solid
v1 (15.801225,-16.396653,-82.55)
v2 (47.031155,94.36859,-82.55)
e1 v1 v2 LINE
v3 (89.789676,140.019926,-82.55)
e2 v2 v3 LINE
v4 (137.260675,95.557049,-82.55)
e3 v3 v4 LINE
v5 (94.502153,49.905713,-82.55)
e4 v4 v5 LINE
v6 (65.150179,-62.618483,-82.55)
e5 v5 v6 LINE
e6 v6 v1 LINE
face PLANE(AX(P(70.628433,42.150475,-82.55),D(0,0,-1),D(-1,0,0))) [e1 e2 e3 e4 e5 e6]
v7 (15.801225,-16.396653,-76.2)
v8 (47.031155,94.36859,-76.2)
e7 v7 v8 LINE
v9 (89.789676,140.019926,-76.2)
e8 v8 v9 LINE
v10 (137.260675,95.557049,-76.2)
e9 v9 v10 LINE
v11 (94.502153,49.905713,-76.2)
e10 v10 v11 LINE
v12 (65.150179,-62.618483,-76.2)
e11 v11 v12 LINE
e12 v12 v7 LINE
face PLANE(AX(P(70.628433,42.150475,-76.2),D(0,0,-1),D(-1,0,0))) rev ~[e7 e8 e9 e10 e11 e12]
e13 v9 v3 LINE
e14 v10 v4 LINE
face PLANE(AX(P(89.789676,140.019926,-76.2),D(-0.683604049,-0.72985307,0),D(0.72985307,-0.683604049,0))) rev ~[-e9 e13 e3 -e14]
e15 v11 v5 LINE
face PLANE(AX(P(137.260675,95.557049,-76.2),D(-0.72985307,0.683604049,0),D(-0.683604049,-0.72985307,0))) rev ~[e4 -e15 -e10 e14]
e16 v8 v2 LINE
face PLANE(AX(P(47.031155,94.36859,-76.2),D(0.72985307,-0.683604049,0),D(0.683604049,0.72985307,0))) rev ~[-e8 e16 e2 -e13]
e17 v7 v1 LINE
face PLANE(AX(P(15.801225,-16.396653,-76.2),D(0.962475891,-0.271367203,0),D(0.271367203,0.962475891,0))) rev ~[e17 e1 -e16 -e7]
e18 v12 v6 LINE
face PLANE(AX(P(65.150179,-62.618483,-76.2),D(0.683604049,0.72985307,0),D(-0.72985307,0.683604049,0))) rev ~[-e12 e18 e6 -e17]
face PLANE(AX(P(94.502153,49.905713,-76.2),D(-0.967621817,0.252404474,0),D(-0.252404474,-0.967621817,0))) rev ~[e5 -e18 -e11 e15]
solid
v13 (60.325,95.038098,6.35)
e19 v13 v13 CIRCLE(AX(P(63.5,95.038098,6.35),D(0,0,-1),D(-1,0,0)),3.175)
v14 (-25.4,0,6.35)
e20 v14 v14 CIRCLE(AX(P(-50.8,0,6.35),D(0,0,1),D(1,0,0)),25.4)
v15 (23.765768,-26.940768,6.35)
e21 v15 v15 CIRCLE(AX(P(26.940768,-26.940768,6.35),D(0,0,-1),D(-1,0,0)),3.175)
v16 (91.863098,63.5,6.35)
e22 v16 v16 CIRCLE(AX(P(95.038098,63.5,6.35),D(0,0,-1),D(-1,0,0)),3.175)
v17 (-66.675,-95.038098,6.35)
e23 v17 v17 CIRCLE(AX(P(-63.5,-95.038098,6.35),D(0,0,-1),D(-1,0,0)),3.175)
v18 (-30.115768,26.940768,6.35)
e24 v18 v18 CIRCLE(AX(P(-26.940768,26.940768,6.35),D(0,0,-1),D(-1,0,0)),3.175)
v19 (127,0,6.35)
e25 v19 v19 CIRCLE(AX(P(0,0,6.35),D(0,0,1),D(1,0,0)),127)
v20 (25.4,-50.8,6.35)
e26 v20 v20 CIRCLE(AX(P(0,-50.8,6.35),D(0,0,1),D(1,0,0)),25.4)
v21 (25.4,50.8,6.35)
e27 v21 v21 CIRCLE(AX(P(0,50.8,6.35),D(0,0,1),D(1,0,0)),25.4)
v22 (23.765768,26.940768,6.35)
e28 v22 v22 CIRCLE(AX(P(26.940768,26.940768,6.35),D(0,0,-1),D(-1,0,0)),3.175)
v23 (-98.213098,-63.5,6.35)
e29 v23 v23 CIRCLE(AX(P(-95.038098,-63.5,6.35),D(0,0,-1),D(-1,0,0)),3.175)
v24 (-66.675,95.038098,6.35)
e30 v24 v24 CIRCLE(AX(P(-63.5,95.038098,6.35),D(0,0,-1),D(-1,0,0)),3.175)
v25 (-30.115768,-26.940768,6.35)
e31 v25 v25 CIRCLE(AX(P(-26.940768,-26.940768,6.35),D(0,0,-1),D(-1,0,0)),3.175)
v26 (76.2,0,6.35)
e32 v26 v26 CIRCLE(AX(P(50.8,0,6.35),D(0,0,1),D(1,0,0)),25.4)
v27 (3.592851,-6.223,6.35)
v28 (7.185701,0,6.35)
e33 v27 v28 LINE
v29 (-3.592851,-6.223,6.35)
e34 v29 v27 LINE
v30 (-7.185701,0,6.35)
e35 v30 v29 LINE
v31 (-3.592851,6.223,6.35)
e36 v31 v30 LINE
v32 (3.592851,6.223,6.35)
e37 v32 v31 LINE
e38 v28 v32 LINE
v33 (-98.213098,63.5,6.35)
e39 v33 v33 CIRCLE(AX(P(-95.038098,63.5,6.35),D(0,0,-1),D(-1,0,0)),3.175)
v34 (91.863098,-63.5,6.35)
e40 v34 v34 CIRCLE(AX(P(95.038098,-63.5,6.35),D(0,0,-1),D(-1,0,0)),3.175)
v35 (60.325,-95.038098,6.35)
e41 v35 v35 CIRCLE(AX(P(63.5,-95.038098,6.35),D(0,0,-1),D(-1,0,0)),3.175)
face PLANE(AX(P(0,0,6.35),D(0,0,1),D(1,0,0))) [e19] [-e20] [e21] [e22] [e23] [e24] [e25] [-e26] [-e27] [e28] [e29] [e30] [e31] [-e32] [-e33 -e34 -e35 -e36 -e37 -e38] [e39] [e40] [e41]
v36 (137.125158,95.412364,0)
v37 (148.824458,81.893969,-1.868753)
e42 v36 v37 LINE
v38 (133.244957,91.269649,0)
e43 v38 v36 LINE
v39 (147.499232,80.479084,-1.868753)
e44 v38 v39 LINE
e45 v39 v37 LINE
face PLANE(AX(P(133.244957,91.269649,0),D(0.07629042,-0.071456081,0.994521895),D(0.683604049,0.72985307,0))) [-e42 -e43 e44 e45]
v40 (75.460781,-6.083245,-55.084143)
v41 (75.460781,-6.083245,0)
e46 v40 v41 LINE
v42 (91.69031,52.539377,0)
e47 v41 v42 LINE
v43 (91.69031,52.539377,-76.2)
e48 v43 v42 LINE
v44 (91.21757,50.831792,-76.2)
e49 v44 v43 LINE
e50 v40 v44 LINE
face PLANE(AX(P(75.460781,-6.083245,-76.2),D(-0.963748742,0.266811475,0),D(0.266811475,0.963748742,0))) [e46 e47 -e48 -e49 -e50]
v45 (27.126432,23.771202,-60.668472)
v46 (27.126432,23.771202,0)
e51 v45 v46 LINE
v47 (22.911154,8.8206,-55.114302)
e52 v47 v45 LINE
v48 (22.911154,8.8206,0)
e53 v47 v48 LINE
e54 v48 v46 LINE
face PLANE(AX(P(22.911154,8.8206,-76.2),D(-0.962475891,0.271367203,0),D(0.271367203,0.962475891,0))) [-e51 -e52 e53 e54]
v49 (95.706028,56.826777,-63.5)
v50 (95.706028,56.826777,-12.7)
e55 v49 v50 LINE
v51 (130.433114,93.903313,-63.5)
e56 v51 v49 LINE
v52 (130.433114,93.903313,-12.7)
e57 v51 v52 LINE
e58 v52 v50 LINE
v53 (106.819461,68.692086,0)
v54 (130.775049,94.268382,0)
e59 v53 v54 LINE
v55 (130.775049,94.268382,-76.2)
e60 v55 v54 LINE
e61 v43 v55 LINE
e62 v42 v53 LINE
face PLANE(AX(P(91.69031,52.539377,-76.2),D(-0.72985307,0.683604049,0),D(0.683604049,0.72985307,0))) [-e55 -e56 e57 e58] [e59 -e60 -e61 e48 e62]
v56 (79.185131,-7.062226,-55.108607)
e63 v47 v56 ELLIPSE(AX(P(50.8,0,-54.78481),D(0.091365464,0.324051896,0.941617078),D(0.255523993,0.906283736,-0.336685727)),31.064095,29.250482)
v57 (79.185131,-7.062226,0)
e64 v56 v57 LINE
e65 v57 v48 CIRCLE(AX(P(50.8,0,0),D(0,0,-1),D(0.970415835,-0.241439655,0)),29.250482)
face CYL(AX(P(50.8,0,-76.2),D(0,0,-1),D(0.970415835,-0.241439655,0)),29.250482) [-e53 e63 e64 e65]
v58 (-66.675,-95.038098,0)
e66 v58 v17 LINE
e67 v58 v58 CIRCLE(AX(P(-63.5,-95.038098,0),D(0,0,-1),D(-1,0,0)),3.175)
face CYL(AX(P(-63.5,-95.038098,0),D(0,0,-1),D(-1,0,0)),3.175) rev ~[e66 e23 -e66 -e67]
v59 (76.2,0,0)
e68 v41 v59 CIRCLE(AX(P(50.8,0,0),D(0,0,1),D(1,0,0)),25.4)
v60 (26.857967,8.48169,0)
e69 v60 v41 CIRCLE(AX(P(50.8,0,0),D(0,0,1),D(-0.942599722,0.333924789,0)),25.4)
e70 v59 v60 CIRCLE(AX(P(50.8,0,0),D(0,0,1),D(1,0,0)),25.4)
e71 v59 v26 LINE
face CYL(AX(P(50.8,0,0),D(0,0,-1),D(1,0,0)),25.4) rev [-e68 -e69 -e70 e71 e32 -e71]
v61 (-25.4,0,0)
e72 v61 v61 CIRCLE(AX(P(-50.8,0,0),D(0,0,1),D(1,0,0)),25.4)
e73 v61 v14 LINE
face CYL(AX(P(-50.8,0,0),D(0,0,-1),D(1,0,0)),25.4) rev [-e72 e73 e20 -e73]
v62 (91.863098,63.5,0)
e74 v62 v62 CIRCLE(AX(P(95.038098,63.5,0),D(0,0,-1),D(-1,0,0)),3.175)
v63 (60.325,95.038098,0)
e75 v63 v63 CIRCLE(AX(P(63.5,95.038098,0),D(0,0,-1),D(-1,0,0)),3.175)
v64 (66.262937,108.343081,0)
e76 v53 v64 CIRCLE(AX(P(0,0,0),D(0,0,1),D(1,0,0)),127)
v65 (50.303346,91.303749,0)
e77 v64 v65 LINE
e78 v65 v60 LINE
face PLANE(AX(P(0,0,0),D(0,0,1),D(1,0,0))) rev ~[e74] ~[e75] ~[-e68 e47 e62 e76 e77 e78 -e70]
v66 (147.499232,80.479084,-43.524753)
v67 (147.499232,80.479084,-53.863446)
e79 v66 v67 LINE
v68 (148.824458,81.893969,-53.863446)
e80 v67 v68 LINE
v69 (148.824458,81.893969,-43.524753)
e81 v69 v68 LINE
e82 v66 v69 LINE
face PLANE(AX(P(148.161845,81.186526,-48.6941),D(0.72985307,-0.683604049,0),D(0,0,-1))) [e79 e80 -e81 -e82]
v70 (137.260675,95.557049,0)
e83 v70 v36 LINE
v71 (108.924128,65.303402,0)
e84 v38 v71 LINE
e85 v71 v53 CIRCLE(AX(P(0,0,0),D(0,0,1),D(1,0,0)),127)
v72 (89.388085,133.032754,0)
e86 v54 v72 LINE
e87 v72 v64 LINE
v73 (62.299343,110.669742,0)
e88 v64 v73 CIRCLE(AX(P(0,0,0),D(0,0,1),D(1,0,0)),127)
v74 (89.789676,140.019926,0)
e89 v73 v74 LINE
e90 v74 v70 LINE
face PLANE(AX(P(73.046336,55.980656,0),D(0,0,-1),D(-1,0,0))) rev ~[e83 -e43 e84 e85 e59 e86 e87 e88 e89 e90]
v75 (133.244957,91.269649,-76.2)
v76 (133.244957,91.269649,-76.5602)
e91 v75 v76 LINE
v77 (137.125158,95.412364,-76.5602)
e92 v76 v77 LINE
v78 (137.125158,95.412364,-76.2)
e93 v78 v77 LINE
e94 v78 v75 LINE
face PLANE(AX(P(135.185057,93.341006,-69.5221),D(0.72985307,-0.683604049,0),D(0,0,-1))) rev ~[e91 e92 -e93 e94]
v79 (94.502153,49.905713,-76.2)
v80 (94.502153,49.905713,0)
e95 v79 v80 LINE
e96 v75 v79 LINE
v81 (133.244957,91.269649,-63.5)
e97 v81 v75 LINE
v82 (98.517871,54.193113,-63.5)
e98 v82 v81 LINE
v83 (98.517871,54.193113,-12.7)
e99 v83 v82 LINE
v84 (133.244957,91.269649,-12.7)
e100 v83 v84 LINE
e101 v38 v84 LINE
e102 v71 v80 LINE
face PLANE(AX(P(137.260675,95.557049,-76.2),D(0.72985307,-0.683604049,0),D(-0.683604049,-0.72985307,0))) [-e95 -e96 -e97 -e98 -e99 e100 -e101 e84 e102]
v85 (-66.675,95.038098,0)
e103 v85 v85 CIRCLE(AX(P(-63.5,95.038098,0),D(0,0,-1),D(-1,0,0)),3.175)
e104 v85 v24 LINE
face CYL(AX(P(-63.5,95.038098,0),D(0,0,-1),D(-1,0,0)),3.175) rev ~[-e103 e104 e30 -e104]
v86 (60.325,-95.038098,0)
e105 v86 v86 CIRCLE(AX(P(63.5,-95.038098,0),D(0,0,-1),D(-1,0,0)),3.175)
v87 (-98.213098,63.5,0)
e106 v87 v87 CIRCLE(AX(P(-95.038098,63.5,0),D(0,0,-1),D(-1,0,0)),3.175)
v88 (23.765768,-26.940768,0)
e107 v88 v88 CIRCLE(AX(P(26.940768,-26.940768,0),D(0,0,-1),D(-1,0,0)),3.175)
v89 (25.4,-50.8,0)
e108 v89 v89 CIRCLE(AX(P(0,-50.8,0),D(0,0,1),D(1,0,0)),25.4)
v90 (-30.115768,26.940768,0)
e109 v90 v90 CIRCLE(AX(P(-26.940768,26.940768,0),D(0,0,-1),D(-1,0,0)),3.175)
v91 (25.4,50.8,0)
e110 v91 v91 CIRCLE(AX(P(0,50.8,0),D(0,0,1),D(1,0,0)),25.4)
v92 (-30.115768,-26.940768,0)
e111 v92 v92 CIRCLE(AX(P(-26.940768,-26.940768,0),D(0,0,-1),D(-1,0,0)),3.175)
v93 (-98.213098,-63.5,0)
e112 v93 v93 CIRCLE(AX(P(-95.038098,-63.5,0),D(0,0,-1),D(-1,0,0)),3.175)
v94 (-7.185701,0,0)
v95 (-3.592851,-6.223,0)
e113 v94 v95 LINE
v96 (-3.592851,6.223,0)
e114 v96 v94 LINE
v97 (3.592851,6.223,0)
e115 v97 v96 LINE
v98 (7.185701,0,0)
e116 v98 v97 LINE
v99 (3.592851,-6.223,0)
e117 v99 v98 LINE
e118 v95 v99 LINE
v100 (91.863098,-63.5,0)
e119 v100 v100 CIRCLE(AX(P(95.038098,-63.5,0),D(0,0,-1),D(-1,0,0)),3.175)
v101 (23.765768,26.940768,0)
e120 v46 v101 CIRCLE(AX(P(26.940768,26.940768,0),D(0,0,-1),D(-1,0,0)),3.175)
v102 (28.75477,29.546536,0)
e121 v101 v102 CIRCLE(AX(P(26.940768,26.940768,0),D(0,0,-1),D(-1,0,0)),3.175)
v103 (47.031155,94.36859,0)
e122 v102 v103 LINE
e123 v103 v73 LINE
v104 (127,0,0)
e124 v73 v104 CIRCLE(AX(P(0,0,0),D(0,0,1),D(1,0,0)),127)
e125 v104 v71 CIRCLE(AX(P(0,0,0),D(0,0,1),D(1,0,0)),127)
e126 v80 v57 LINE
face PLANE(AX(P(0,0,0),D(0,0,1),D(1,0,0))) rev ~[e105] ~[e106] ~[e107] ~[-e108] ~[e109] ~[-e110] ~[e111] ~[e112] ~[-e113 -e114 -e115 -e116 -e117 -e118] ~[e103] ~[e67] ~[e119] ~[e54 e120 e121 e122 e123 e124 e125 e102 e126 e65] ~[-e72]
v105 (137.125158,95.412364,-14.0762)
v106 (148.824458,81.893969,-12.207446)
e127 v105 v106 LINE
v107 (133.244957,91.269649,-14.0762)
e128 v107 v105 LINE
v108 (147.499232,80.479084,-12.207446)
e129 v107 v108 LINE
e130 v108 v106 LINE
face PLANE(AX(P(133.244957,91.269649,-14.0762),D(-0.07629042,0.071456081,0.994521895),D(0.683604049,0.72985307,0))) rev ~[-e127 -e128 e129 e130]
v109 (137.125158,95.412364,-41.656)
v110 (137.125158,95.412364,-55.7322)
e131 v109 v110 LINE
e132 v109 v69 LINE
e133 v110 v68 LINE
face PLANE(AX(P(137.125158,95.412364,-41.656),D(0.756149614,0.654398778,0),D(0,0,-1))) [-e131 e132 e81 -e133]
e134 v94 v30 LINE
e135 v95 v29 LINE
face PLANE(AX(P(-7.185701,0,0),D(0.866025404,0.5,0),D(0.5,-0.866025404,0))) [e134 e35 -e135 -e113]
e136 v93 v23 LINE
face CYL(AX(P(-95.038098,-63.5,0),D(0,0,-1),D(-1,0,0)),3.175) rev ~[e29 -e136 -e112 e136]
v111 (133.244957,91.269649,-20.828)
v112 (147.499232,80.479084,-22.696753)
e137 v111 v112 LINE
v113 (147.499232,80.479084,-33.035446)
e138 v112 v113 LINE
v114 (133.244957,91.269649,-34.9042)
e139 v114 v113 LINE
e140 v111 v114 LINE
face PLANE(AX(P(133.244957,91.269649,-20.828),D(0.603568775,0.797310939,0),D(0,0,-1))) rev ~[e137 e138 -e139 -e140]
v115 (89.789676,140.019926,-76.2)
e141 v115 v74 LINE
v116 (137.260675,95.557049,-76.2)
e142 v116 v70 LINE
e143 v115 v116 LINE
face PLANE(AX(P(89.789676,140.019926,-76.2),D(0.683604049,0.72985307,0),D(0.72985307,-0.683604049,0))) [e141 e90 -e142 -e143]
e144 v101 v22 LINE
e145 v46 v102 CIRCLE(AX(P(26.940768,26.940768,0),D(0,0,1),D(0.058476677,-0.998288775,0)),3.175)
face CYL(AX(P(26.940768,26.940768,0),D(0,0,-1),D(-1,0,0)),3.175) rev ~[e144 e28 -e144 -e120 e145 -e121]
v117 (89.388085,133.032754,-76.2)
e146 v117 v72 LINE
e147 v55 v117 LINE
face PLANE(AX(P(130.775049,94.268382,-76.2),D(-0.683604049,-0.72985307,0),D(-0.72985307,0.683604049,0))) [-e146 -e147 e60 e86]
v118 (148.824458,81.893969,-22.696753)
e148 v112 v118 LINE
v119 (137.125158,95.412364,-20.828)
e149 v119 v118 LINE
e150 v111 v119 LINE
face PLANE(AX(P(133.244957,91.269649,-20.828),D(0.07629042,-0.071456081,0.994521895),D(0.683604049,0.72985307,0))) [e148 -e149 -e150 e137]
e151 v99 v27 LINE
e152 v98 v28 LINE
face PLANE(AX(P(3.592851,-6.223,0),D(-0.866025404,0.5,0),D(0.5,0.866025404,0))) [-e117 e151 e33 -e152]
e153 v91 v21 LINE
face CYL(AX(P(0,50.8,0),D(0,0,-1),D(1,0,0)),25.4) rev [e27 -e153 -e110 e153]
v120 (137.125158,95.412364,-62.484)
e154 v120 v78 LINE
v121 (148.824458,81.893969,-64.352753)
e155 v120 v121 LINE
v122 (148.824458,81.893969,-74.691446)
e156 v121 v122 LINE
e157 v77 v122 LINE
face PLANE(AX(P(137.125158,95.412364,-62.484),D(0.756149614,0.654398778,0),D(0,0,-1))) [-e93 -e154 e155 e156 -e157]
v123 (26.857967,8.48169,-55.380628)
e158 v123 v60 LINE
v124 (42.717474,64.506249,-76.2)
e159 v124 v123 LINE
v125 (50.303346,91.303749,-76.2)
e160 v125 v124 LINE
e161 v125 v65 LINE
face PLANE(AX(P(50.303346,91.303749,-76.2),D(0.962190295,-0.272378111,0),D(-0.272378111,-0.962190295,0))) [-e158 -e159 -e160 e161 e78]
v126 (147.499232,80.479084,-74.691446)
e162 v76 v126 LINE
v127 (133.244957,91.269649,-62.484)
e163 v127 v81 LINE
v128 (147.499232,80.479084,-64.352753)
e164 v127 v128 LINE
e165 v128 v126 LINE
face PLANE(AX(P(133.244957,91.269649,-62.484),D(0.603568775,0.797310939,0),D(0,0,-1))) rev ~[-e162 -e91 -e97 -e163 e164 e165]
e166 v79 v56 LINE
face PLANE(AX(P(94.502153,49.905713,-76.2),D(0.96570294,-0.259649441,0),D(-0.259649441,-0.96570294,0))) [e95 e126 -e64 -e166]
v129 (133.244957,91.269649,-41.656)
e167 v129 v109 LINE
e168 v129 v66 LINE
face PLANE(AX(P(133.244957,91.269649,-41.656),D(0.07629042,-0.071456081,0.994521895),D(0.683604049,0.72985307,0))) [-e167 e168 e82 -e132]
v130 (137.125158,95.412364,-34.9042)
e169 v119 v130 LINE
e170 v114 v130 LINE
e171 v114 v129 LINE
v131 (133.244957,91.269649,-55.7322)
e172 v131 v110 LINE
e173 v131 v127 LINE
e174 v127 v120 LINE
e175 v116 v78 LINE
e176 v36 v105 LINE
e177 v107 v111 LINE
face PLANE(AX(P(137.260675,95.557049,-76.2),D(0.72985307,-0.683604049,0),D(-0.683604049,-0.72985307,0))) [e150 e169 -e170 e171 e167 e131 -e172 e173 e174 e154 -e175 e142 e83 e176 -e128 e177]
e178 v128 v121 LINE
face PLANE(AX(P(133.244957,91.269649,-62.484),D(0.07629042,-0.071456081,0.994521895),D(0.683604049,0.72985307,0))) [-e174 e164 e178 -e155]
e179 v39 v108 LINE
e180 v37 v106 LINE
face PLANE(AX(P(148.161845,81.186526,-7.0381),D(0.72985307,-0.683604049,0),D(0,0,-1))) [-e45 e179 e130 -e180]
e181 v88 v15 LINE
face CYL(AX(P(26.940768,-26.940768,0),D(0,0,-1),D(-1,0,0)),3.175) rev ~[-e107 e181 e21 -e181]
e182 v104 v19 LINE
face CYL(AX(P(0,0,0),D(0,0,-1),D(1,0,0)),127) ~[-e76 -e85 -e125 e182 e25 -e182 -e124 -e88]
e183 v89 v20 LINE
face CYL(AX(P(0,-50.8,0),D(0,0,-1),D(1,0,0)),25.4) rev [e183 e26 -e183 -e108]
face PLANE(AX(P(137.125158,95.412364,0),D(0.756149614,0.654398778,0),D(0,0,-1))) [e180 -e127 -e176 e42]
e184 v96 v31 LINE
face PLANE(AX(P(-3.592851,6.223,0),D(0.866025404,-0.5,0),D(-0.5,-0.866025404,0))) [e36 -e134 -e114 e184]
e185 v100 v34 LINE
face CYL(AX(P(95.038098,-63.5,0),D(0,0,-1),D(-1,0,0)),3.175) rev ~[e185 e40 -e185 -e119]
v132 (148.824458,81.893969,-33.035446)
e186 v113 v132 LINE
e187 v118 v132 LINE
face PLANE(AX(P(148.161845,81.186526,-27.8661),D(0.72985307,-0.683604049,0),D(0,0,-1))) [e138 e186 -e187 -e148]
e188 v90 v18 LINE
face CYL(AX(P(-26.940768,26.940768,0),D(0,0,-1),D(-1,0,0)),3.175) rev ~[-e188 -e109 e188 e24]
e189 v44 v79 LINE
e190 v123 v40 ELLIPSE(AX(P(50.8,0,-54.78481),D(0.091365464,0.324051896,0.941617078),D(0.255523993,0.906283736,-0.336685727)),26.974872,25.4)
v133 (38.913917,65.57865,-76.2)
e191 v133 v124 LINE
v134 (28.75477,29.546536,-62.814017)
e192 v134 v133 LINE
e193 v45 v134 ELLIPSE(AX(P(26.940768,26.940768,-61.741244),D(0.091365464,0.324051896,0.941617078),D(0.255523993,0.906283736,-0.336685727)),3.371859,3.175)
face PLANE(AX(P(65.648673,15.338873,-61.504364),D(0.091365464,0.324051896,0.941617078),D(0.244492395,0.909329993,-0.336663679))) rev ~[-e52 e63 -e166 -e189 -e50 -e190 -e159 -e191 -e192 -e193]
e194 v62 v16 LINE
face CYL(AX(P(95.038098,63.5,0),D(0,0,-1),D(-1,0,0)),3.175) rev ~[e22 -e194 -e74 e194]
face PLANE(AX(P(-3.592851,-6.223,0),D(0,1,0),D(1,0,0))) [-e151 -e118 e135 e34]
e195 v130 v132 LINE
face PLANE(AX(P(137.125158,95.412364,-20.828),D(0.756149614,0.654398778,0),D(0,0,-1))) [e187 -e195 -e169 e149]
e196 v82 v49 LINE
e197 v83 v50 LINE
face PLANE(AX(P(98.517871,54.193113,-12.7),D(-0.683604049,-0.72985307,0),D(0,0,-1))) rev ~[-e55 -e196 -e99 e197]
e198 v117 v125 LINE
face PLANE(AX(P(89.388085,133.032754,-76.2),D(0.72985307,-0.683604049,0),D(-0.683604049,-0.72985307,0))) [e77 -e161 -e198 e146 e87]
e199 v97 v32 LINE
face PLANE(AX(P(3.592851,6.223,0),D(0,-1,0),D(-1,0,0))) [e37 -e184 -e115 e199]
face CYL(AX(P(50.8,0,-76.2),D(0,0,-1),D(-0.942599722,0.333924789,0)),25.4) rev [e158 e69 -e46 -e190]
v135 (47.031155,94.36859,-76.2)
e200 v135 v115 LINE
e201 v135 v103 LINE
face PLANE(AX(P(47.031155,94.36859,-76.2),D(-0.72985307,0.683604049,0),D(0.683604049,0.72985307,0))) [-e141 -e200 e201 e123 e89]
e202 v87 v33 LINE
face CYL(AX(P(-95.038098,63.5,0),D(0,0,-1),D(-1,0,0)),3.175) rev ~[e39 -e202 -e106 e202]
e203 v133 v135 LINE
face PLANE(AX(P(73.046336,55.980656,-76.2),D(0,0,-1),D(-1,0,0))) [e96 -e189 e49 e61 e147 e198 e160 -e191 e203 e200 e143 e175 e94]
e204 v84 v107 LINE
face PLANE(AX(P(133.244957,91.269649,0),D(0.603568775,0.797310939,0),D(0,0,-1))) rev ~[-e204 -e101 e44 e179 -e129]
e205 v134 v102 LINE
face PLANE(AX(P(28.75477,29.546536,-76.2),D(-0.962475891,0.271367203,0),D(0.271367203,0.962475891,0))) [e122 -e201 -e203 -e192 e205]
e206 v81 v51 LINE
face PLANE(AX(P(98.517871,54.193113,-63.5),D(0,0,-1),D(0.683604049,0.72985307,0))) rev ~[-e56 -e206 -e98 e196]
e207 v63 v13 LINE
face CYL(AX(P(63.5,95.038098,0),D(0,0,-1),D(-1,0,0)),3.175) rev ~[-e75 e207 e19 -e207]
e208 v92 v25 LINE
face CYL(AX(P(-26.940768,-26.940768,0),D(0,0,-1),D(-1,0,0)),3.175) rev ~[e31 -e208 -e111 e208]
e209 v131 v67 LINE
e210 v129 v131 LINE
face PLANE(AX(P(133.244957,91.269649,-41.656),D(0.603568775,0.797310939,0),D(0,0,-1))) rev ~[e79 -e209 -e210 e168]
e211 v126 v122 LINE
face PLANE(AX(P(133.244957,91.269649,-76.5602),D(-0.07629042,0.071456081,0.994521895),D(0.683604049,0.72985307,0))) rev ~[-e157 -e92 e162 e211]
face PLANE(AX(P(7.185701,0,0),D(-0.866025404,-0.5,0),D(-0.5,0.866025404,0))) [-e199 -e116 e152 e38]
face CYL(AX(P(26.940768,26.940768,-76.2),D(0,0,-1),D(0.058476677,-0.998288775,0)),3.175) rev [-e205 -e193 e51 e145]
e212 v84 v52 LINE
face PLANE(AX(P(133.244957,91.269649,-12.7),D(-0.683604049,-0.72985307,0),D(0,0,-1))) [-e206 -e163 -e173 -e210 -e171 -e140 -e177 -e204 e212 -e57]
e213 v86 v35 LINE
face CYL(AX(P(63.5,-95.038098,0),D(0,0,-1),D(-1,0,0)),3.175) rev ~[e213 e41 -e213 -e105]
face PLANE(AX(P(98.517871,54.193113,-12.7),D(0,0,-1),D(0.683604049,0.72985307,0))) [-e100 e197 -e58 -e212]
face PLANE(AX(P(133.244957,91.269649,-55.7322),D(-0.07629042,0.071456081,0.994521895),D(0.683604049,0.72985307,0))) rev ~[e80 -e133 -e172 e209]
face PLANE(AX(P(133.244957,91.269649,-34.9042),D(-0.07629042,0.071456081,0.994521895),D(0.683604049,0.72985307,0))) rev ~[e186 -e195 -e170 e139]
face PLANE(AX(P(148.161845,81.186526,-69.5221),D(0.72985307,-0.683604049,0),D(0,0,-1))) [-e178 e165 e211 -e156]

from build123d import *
from build123d.topology import SkipClean

# Parameters (mm, degrees)
SKETCH1_R                     = 127
SKETCH1_R_2                   = 25.4
BOSS_EXTRUDE1_DEPTH           = 6.35
SKETCH3_R                     = 3.175
CUT_EXTRUDE1_DEPTH            = 6.35
BOSS_EXTRUDE3_START           = 76.2
BOSS_EXTRUDE3_DEPTH           = 76.2
SKETCH8_W                     = 50.8
SKETCH8_H                     = 50.8
CUT_EXTRUDE2_DEPTH            = 6.35
BOSS_EXTRUDE4_DEPTH           = 6.35
SKETCH12_W                    = 14.076199653
SKETCH12_H                    = 5.676094201
BOSS_EXTRUDE5_DEPTH           = 17.78
BOSS_EXTRUDE5_DRAFT           = 6
BOSS_EXTRUDE5_PROFILE_2_DEPTH = 17.78
BOSS_EXTRUDE5_PROFILE_2_DRAFT = 6
BOSS_EXTRUDE5_PROFILE_3_DEPTH = 17.78
BOSS_EXTRUDE5_PROFILE_3_DRAFT = 6
BOSS_EXTRUDE5_PROFILE_4_DEPTH = 17.78
BOSS_EXTRUDE5_PROFILE_4_DRAFT = 6
SKETCH16_W                    = 137.632835606
SKETCH16_H                    = 86.689422116
CUT_EXTRUDE4_DEPTH            = 38.1


with BuildPart() as part:
    # Sketch1 → Boss-Extrude1 (new body)
    with BuildSketch(Plane.XY):
        Circle(SKETCH1_R)
        with Locations((0, 50.8)):
            Circle(SKETCH1_R_2, mode=Mode.SUBTRACT)
        with Locations((50.8, 0)):
            Circle(SKETCH1_R_2, mode=Mode.SUBTRACT)
        with Locations((0, -50.8)):
            Circle(SKETCH1_R_2, mode=Mode.SUBTRACT)
        with Locations((-50.8, 0)):
            Circle(SKETCH1_R_2, mode=Mode.SUBTRACT)
        Polygon((7.18570145, 0), (3.592850725, 6.223), (-3.592850725, 6.223), (-7.18570145, 0), (-3.592850725, -6.223), (3.592850725, -6.223), align=None, mode=Mode.SUBTRACT)
    extrude(amount=BOSS_EXTRUDE1_DEPTH)

    # Sketch3 → Cut-Extrude1 (cut)
    with BuildSketch(Plane(origin=(0, 0, 0), x_dir=(-1, 0, 0), z_dir=(0, 0, -1))):
        with Locations((-26.940768363, 26.940768363)):
            Circle(SKETCH3_R)
        with Locations((26.940768363, 26.940768363)):
            Circle(SKETCH3_R)
        with Locations((26.940768363, -26.940768363)):
            Circle(SKETCH3_R)
        with Locations((-26.940768363, -26.940768363)):
            Circle(SKETCH3_R)
        with Locations((-63.5, 95.038097624)):
            Circle(SKETCH3_R)
        with Locations((63.5, 95.038097624)):
            Circle(SKETCH3_R)
        with Locations((95.038097624, 63.5)):
            Circle(SKETCH3_R)
        with Locations((95.038097624, -63.5)):
            Circle(SKETCH3_R)
        with Locations((63.5, -95.038097624)):
            Circle(SKETCH3_R)
        with Locations((-63.5, -95.038097624)):
            Circle(SKETCH3_R)
        with Locations((-95.038097624, -63.5)):
            Circle(SKETCH3_R)
        with Locations((-95.038097624, 63.5)):
            Circle(SKETCH3_R)
    extrude(amount=-CUT_EXTRUDE1_DEPTH, mode=Mode.SUBTRACT)

    # Sketch4 → Boss-Extrude3 (add)
    with SkipClean():  # the faces are left unmerged after this step: merging them gives an invalid solid
        with BuildSketch(Plane(origin=(0, 0, 0), x_dir=(-1, 0, 0), z_dir=(0, 0, -1)).offset(BOSS_EXTRUDE3_START)):
            with BuildLine():
                ThreePointArc((-79.185130885, -7.062226276), (-42.854710858, -28.150720697), (-22.911154448, 8.82060027))
                Line((-22.911154448, 8.82060027), (-27.126431814, 23.771201503))
                ThreePointArc((-27.126431814, 23.771201503), (-29.996629318, 26.079177494), (-28.75477002, 29.546535619))
                Line((-28.75477002, 29.546535619), (-47.031154579, 94.368589733))
                Line((-47.031154579, 94.368589733), (-89.78967593, 140.019925662))
                Line((-89.78967593, 140.019925662), (-137.260674726, 95.557049073))
                Line((-137.260674726, 95.557049073), (-94.502153375, 49.905713144))
                Line((-94.502153375, 49.905713144), (-79.185130885, -7.062226276))
            make_face()
            with BuildLine():
                Line((-91.690310224, 52.539376605), (-130.775049183, 94.268381527))
                Line((-130.775049183, 94.268381527), (-89.388084982, 133.032754057))
                Line((-89.388084982, 133.032754057), (-50.303346023, 91.303749135))
                Line((-50.303346023, 91.303749135), (-26.857967073, 8.48168965))
                ThreePointArc((-26.857967073, 8.48168965), (-43.508670742, -24.330978559), (-75.460781141, -6.083245311))
                Line((-75.460781141, -6.083245311), (-91.690310224, 52.539376605))
            make_face(mode=Mode.SUBTRACT)
        extrude(amount=-BOSS_EXTRUDE3_DEPTH)

    # Sketch8 → Cut-Extrude2 (cut)
    with SkipClean():  # the faces are left unmerged after this step: merging them gives an invalid solid
        with BuildSketch(Plane(origin=(25.440444099, -23.82834478, 0), x_dir=(0, 0, -1), z_dir=(0.729853070223302, -0.683604049055899, 0))):
            with Locations((38.1, 132.300225659)):
                Rectangle(SKETCH8_W, SKETCH8_H)
        extrude(amount=-CUT_EXTRUDE2_DEPTH, mode=Mode.SUBTRACT)


with BuildPart() as body_2:
    # Sketch6 → Boss-Extrude4 (new body)
    with BuildSketch(Plane(origin=(0, 0, -76.2), x_dir=(-1, 0, 0), z_dir=(0, 0, -1))):
        Polygon((-15.801225201, -16.396653006), (-47.031154579, 94.368589733), (-89.78967593, 140.019925662), (-137.260674726, 95.557049073), (-94.502153375, 49.905713144), (-65.150179146, -62.618483276), align=None)
    extrude(amount=BOSS_EXTRUDE4_DEPTH)


with BuildPart() as boss_extrude5_tool:
    # Sketch12 → Boss-Extrude5 (with draft: the straight prism first)
    with BuildSketch(Plane(origin=(25.440444099, -23.82834478, 0), x_dir=(0, 0, -1), z_dir=(0.7298530702233252, -0.6836040490558741, 0))):
        with Locations((7.038099827, 160.53827276)):
            Rectangle(SKETCH12_W, SKETCH12_H)
    extrude(amount=BOSS_EXTRUDE5_DEPTH)
    # Boss-Extrude5: the draft: its side faces are tilted about the plane it starts from
    boss_extrude5_sides = [boss_extrude5_tool.faces().sort_by_distance(p)[0] for p in [
        (141.67345118, 87.263766485, 0),
        (139.733350691, 85.192409096, -7.038099826),
        (141.67345118, 87.263766485, -14.076199653),
        (143.613551669, 89.335123875, -7.038099826),
    ]]
    draft(boss_extrude5_sides, Plane(origin=(25.440444099, -23.82834478, 0), x_dir=(0, 0, -1), z_dir=(0.7298530702233252, -0.6836040490558741, 0)), BOSS_EXTRUDE5_DRAFT)


with BuildPart() as part_1:
    add(part.part)

    # Boss-Extrude5: add boss_extrude5_tool
    add(boss_extrude5_tool.part)


with BuildPart() as boss_extrude5_profile_2_tool:
    # Sketch12 → Boss-Extrude5 profile 2 (with draft: the straight prism first)
    with BuildSketch(Plane(origin=(25.440444099, -23.82834478, 0), x_dir=(0, 0, -1), z_dir=(0.7298530702233252, -0.6836040490558741, 0))):
        with Locations((27.866099827, 160.53827276)):
            Rectangle(SKETCH12_W, SKETCH12_H)
    extrude(amount=BOSS_EXTRUDE5_PROFILE_2_DEPTH)
    # Boss-Extrude5 profile 2: the draft: its side faces are tilted about the plane it starts from
    boss_extrude5_profile_2_sides = [boss_extrude5_profile_2_tool.faces().sort_by_distance(p)[0] for p in [
        (141.67345118, 87.263766485, -20.828),
        (139.733350691, 85.192409096, -27.866099826),
        (141.67345118, 87.263766485, -34.904199653),
        (143.613551669, 89.335123875, -27.866099826),
    ]]
    draft(boss_extrude5_profile_2_sides, Plane(origin=(25.440444099, -23.82834478, 0), x_dir=(0, 0, -1), z_dir=(0.7298530702233252, -0.6836040490558741, 0)), BOSS_EXTRUDE5_PROFILE_2_DRAFT)


with BuildPart() as part_2:
    add(part_1.part)

    # Boss-Extrude5 profile 2: add boss_extrude5_profile_2_tool
    add(boss_extrude5_profile_2_tool.part)


with BuildPart() as boss_extrude5_profile_3_tool:
    # Sketch12 → Boss-Extrude5 profile 3 (with draft: the straight prism first)
    with BuildSketch(Plane(origin=(25.440444099, -23.82834478, 0), x_dir=(0, 0, -1), z_dir=(0.7298530702233252, -0.6836040490558741, 0))):
        with Locations((48.694099827, 160.53827276)):
            Rectangle(SKETCH12_W, SKETCH12_H)
    extrude(amount=BOSS_EXTRUDE5_PROFILE_3_DEPTH)
    # Boss-Extrude5 profile 3: the draft: its side faces are tilted about the plane it starts from
    boss_extrude5_profile_3_sides = [boss_extrude5_profile_3_tool.faces().sort_by_distance(p)[0] for p in [
        (141.67345118, 87.263766485, -41.656),
        (139.733350691, 85.192409096, -48.694099826),
        (141.67345118, 87.263766485, -55.732199653),
        (143.613551669, 89.335123875, -48.694099826),
    ]]
    draft(boss_extrude5_profile_3_sides, Plane(origin=(25.440444099, -23.82834478, 0), x_dir=(0, 0, -1), z_dir=(0.7298530702233252, -0.6836040490558741, 0)), BOSS_EXTRUDE5_PROFILE_3_DRAFT)


with BuildPart() as part_3:
    add(part_2.part)

    # Boss-Extrude5 profile 3: add boss_extrude5_profile_3_tool
    add(boss_extrude5_profile_3_tool.part)


with BuildPart() as boss_extrude5_profile_4_tool:
    # Sketch12 → Boss-Extrude5 profile 4 (with draft: the straight prism first)
    with BuildSketch(Plane(origin=(25.440444099, -23.82834478, 0), x_dir=(0, 0, -1), z_dir=(0.7298530702233252, -0.6836040490558741, 0))):
        with Locations((69.522099826, 160.53827276)):
            Rectangle(SKETCH12_W, SKETCH12_H)
    extrude(amount=BOSS_EXTRUDE5_PROFILE_4_DEPTH)
    # Boss-Extrude5 profile 4: the draft: its side faces are tilted about the plane it starts from
    boss_extrude5_profile_4_sides = [boss_extrude5_profile_4_tool.faces().sort_by_distance(p)[0] for p in [
        (141.67345118, 87.263766485, -62.484),
        (139.733350691, 85.192409096, -69.522099826),
        (141.67345118, 87.263766485, -76.560199653),
        (143.613551669, 89.335123875, -69.522099826),
    ]]
    draft(boss_extrude5_profile_4_sides, Plane(origin=(25.440444099, -23.82834478, 0), x_dir=(0, 0, -1), z_dir=(0.7298530702233252, -0.6836040490558741, 0)), BOSS_EXTRUDE5_PROFILE_4_DRAFT)


with BuildPart() as part_4:
    add(part_3.part)

    # Boss-Extrude5 profile 4: add boss_extrude5_profile_4_tool
    add(boss_extrude5_profile_4_tool.part)

    # Sketch16 → Cut-Extrude4 (cut)
    with SkipClean():  # the faces are left unmerged after this step: merging them gives an invalid solid
        with BuildSketch(Plane(origin=(-4.289146896, -15.21259915, -44.204164058), x_dir=(0.2444923951386014, 0.90932999306756, -0.3366636785088964), z_dir=(0.0913654641407042, 0.32405189556873676, 0.9416170776598427))):
            with Locations((50.704983573, -59.606984753)):
                Rectangle(SKETCH16_W, SKETCH16_H)
        extrude(amount=-CUT_EXTRUDE4_DEPTH, mode=Mode.SUBTRACT)


solid = Compound([body_2.part, part_4.part])
